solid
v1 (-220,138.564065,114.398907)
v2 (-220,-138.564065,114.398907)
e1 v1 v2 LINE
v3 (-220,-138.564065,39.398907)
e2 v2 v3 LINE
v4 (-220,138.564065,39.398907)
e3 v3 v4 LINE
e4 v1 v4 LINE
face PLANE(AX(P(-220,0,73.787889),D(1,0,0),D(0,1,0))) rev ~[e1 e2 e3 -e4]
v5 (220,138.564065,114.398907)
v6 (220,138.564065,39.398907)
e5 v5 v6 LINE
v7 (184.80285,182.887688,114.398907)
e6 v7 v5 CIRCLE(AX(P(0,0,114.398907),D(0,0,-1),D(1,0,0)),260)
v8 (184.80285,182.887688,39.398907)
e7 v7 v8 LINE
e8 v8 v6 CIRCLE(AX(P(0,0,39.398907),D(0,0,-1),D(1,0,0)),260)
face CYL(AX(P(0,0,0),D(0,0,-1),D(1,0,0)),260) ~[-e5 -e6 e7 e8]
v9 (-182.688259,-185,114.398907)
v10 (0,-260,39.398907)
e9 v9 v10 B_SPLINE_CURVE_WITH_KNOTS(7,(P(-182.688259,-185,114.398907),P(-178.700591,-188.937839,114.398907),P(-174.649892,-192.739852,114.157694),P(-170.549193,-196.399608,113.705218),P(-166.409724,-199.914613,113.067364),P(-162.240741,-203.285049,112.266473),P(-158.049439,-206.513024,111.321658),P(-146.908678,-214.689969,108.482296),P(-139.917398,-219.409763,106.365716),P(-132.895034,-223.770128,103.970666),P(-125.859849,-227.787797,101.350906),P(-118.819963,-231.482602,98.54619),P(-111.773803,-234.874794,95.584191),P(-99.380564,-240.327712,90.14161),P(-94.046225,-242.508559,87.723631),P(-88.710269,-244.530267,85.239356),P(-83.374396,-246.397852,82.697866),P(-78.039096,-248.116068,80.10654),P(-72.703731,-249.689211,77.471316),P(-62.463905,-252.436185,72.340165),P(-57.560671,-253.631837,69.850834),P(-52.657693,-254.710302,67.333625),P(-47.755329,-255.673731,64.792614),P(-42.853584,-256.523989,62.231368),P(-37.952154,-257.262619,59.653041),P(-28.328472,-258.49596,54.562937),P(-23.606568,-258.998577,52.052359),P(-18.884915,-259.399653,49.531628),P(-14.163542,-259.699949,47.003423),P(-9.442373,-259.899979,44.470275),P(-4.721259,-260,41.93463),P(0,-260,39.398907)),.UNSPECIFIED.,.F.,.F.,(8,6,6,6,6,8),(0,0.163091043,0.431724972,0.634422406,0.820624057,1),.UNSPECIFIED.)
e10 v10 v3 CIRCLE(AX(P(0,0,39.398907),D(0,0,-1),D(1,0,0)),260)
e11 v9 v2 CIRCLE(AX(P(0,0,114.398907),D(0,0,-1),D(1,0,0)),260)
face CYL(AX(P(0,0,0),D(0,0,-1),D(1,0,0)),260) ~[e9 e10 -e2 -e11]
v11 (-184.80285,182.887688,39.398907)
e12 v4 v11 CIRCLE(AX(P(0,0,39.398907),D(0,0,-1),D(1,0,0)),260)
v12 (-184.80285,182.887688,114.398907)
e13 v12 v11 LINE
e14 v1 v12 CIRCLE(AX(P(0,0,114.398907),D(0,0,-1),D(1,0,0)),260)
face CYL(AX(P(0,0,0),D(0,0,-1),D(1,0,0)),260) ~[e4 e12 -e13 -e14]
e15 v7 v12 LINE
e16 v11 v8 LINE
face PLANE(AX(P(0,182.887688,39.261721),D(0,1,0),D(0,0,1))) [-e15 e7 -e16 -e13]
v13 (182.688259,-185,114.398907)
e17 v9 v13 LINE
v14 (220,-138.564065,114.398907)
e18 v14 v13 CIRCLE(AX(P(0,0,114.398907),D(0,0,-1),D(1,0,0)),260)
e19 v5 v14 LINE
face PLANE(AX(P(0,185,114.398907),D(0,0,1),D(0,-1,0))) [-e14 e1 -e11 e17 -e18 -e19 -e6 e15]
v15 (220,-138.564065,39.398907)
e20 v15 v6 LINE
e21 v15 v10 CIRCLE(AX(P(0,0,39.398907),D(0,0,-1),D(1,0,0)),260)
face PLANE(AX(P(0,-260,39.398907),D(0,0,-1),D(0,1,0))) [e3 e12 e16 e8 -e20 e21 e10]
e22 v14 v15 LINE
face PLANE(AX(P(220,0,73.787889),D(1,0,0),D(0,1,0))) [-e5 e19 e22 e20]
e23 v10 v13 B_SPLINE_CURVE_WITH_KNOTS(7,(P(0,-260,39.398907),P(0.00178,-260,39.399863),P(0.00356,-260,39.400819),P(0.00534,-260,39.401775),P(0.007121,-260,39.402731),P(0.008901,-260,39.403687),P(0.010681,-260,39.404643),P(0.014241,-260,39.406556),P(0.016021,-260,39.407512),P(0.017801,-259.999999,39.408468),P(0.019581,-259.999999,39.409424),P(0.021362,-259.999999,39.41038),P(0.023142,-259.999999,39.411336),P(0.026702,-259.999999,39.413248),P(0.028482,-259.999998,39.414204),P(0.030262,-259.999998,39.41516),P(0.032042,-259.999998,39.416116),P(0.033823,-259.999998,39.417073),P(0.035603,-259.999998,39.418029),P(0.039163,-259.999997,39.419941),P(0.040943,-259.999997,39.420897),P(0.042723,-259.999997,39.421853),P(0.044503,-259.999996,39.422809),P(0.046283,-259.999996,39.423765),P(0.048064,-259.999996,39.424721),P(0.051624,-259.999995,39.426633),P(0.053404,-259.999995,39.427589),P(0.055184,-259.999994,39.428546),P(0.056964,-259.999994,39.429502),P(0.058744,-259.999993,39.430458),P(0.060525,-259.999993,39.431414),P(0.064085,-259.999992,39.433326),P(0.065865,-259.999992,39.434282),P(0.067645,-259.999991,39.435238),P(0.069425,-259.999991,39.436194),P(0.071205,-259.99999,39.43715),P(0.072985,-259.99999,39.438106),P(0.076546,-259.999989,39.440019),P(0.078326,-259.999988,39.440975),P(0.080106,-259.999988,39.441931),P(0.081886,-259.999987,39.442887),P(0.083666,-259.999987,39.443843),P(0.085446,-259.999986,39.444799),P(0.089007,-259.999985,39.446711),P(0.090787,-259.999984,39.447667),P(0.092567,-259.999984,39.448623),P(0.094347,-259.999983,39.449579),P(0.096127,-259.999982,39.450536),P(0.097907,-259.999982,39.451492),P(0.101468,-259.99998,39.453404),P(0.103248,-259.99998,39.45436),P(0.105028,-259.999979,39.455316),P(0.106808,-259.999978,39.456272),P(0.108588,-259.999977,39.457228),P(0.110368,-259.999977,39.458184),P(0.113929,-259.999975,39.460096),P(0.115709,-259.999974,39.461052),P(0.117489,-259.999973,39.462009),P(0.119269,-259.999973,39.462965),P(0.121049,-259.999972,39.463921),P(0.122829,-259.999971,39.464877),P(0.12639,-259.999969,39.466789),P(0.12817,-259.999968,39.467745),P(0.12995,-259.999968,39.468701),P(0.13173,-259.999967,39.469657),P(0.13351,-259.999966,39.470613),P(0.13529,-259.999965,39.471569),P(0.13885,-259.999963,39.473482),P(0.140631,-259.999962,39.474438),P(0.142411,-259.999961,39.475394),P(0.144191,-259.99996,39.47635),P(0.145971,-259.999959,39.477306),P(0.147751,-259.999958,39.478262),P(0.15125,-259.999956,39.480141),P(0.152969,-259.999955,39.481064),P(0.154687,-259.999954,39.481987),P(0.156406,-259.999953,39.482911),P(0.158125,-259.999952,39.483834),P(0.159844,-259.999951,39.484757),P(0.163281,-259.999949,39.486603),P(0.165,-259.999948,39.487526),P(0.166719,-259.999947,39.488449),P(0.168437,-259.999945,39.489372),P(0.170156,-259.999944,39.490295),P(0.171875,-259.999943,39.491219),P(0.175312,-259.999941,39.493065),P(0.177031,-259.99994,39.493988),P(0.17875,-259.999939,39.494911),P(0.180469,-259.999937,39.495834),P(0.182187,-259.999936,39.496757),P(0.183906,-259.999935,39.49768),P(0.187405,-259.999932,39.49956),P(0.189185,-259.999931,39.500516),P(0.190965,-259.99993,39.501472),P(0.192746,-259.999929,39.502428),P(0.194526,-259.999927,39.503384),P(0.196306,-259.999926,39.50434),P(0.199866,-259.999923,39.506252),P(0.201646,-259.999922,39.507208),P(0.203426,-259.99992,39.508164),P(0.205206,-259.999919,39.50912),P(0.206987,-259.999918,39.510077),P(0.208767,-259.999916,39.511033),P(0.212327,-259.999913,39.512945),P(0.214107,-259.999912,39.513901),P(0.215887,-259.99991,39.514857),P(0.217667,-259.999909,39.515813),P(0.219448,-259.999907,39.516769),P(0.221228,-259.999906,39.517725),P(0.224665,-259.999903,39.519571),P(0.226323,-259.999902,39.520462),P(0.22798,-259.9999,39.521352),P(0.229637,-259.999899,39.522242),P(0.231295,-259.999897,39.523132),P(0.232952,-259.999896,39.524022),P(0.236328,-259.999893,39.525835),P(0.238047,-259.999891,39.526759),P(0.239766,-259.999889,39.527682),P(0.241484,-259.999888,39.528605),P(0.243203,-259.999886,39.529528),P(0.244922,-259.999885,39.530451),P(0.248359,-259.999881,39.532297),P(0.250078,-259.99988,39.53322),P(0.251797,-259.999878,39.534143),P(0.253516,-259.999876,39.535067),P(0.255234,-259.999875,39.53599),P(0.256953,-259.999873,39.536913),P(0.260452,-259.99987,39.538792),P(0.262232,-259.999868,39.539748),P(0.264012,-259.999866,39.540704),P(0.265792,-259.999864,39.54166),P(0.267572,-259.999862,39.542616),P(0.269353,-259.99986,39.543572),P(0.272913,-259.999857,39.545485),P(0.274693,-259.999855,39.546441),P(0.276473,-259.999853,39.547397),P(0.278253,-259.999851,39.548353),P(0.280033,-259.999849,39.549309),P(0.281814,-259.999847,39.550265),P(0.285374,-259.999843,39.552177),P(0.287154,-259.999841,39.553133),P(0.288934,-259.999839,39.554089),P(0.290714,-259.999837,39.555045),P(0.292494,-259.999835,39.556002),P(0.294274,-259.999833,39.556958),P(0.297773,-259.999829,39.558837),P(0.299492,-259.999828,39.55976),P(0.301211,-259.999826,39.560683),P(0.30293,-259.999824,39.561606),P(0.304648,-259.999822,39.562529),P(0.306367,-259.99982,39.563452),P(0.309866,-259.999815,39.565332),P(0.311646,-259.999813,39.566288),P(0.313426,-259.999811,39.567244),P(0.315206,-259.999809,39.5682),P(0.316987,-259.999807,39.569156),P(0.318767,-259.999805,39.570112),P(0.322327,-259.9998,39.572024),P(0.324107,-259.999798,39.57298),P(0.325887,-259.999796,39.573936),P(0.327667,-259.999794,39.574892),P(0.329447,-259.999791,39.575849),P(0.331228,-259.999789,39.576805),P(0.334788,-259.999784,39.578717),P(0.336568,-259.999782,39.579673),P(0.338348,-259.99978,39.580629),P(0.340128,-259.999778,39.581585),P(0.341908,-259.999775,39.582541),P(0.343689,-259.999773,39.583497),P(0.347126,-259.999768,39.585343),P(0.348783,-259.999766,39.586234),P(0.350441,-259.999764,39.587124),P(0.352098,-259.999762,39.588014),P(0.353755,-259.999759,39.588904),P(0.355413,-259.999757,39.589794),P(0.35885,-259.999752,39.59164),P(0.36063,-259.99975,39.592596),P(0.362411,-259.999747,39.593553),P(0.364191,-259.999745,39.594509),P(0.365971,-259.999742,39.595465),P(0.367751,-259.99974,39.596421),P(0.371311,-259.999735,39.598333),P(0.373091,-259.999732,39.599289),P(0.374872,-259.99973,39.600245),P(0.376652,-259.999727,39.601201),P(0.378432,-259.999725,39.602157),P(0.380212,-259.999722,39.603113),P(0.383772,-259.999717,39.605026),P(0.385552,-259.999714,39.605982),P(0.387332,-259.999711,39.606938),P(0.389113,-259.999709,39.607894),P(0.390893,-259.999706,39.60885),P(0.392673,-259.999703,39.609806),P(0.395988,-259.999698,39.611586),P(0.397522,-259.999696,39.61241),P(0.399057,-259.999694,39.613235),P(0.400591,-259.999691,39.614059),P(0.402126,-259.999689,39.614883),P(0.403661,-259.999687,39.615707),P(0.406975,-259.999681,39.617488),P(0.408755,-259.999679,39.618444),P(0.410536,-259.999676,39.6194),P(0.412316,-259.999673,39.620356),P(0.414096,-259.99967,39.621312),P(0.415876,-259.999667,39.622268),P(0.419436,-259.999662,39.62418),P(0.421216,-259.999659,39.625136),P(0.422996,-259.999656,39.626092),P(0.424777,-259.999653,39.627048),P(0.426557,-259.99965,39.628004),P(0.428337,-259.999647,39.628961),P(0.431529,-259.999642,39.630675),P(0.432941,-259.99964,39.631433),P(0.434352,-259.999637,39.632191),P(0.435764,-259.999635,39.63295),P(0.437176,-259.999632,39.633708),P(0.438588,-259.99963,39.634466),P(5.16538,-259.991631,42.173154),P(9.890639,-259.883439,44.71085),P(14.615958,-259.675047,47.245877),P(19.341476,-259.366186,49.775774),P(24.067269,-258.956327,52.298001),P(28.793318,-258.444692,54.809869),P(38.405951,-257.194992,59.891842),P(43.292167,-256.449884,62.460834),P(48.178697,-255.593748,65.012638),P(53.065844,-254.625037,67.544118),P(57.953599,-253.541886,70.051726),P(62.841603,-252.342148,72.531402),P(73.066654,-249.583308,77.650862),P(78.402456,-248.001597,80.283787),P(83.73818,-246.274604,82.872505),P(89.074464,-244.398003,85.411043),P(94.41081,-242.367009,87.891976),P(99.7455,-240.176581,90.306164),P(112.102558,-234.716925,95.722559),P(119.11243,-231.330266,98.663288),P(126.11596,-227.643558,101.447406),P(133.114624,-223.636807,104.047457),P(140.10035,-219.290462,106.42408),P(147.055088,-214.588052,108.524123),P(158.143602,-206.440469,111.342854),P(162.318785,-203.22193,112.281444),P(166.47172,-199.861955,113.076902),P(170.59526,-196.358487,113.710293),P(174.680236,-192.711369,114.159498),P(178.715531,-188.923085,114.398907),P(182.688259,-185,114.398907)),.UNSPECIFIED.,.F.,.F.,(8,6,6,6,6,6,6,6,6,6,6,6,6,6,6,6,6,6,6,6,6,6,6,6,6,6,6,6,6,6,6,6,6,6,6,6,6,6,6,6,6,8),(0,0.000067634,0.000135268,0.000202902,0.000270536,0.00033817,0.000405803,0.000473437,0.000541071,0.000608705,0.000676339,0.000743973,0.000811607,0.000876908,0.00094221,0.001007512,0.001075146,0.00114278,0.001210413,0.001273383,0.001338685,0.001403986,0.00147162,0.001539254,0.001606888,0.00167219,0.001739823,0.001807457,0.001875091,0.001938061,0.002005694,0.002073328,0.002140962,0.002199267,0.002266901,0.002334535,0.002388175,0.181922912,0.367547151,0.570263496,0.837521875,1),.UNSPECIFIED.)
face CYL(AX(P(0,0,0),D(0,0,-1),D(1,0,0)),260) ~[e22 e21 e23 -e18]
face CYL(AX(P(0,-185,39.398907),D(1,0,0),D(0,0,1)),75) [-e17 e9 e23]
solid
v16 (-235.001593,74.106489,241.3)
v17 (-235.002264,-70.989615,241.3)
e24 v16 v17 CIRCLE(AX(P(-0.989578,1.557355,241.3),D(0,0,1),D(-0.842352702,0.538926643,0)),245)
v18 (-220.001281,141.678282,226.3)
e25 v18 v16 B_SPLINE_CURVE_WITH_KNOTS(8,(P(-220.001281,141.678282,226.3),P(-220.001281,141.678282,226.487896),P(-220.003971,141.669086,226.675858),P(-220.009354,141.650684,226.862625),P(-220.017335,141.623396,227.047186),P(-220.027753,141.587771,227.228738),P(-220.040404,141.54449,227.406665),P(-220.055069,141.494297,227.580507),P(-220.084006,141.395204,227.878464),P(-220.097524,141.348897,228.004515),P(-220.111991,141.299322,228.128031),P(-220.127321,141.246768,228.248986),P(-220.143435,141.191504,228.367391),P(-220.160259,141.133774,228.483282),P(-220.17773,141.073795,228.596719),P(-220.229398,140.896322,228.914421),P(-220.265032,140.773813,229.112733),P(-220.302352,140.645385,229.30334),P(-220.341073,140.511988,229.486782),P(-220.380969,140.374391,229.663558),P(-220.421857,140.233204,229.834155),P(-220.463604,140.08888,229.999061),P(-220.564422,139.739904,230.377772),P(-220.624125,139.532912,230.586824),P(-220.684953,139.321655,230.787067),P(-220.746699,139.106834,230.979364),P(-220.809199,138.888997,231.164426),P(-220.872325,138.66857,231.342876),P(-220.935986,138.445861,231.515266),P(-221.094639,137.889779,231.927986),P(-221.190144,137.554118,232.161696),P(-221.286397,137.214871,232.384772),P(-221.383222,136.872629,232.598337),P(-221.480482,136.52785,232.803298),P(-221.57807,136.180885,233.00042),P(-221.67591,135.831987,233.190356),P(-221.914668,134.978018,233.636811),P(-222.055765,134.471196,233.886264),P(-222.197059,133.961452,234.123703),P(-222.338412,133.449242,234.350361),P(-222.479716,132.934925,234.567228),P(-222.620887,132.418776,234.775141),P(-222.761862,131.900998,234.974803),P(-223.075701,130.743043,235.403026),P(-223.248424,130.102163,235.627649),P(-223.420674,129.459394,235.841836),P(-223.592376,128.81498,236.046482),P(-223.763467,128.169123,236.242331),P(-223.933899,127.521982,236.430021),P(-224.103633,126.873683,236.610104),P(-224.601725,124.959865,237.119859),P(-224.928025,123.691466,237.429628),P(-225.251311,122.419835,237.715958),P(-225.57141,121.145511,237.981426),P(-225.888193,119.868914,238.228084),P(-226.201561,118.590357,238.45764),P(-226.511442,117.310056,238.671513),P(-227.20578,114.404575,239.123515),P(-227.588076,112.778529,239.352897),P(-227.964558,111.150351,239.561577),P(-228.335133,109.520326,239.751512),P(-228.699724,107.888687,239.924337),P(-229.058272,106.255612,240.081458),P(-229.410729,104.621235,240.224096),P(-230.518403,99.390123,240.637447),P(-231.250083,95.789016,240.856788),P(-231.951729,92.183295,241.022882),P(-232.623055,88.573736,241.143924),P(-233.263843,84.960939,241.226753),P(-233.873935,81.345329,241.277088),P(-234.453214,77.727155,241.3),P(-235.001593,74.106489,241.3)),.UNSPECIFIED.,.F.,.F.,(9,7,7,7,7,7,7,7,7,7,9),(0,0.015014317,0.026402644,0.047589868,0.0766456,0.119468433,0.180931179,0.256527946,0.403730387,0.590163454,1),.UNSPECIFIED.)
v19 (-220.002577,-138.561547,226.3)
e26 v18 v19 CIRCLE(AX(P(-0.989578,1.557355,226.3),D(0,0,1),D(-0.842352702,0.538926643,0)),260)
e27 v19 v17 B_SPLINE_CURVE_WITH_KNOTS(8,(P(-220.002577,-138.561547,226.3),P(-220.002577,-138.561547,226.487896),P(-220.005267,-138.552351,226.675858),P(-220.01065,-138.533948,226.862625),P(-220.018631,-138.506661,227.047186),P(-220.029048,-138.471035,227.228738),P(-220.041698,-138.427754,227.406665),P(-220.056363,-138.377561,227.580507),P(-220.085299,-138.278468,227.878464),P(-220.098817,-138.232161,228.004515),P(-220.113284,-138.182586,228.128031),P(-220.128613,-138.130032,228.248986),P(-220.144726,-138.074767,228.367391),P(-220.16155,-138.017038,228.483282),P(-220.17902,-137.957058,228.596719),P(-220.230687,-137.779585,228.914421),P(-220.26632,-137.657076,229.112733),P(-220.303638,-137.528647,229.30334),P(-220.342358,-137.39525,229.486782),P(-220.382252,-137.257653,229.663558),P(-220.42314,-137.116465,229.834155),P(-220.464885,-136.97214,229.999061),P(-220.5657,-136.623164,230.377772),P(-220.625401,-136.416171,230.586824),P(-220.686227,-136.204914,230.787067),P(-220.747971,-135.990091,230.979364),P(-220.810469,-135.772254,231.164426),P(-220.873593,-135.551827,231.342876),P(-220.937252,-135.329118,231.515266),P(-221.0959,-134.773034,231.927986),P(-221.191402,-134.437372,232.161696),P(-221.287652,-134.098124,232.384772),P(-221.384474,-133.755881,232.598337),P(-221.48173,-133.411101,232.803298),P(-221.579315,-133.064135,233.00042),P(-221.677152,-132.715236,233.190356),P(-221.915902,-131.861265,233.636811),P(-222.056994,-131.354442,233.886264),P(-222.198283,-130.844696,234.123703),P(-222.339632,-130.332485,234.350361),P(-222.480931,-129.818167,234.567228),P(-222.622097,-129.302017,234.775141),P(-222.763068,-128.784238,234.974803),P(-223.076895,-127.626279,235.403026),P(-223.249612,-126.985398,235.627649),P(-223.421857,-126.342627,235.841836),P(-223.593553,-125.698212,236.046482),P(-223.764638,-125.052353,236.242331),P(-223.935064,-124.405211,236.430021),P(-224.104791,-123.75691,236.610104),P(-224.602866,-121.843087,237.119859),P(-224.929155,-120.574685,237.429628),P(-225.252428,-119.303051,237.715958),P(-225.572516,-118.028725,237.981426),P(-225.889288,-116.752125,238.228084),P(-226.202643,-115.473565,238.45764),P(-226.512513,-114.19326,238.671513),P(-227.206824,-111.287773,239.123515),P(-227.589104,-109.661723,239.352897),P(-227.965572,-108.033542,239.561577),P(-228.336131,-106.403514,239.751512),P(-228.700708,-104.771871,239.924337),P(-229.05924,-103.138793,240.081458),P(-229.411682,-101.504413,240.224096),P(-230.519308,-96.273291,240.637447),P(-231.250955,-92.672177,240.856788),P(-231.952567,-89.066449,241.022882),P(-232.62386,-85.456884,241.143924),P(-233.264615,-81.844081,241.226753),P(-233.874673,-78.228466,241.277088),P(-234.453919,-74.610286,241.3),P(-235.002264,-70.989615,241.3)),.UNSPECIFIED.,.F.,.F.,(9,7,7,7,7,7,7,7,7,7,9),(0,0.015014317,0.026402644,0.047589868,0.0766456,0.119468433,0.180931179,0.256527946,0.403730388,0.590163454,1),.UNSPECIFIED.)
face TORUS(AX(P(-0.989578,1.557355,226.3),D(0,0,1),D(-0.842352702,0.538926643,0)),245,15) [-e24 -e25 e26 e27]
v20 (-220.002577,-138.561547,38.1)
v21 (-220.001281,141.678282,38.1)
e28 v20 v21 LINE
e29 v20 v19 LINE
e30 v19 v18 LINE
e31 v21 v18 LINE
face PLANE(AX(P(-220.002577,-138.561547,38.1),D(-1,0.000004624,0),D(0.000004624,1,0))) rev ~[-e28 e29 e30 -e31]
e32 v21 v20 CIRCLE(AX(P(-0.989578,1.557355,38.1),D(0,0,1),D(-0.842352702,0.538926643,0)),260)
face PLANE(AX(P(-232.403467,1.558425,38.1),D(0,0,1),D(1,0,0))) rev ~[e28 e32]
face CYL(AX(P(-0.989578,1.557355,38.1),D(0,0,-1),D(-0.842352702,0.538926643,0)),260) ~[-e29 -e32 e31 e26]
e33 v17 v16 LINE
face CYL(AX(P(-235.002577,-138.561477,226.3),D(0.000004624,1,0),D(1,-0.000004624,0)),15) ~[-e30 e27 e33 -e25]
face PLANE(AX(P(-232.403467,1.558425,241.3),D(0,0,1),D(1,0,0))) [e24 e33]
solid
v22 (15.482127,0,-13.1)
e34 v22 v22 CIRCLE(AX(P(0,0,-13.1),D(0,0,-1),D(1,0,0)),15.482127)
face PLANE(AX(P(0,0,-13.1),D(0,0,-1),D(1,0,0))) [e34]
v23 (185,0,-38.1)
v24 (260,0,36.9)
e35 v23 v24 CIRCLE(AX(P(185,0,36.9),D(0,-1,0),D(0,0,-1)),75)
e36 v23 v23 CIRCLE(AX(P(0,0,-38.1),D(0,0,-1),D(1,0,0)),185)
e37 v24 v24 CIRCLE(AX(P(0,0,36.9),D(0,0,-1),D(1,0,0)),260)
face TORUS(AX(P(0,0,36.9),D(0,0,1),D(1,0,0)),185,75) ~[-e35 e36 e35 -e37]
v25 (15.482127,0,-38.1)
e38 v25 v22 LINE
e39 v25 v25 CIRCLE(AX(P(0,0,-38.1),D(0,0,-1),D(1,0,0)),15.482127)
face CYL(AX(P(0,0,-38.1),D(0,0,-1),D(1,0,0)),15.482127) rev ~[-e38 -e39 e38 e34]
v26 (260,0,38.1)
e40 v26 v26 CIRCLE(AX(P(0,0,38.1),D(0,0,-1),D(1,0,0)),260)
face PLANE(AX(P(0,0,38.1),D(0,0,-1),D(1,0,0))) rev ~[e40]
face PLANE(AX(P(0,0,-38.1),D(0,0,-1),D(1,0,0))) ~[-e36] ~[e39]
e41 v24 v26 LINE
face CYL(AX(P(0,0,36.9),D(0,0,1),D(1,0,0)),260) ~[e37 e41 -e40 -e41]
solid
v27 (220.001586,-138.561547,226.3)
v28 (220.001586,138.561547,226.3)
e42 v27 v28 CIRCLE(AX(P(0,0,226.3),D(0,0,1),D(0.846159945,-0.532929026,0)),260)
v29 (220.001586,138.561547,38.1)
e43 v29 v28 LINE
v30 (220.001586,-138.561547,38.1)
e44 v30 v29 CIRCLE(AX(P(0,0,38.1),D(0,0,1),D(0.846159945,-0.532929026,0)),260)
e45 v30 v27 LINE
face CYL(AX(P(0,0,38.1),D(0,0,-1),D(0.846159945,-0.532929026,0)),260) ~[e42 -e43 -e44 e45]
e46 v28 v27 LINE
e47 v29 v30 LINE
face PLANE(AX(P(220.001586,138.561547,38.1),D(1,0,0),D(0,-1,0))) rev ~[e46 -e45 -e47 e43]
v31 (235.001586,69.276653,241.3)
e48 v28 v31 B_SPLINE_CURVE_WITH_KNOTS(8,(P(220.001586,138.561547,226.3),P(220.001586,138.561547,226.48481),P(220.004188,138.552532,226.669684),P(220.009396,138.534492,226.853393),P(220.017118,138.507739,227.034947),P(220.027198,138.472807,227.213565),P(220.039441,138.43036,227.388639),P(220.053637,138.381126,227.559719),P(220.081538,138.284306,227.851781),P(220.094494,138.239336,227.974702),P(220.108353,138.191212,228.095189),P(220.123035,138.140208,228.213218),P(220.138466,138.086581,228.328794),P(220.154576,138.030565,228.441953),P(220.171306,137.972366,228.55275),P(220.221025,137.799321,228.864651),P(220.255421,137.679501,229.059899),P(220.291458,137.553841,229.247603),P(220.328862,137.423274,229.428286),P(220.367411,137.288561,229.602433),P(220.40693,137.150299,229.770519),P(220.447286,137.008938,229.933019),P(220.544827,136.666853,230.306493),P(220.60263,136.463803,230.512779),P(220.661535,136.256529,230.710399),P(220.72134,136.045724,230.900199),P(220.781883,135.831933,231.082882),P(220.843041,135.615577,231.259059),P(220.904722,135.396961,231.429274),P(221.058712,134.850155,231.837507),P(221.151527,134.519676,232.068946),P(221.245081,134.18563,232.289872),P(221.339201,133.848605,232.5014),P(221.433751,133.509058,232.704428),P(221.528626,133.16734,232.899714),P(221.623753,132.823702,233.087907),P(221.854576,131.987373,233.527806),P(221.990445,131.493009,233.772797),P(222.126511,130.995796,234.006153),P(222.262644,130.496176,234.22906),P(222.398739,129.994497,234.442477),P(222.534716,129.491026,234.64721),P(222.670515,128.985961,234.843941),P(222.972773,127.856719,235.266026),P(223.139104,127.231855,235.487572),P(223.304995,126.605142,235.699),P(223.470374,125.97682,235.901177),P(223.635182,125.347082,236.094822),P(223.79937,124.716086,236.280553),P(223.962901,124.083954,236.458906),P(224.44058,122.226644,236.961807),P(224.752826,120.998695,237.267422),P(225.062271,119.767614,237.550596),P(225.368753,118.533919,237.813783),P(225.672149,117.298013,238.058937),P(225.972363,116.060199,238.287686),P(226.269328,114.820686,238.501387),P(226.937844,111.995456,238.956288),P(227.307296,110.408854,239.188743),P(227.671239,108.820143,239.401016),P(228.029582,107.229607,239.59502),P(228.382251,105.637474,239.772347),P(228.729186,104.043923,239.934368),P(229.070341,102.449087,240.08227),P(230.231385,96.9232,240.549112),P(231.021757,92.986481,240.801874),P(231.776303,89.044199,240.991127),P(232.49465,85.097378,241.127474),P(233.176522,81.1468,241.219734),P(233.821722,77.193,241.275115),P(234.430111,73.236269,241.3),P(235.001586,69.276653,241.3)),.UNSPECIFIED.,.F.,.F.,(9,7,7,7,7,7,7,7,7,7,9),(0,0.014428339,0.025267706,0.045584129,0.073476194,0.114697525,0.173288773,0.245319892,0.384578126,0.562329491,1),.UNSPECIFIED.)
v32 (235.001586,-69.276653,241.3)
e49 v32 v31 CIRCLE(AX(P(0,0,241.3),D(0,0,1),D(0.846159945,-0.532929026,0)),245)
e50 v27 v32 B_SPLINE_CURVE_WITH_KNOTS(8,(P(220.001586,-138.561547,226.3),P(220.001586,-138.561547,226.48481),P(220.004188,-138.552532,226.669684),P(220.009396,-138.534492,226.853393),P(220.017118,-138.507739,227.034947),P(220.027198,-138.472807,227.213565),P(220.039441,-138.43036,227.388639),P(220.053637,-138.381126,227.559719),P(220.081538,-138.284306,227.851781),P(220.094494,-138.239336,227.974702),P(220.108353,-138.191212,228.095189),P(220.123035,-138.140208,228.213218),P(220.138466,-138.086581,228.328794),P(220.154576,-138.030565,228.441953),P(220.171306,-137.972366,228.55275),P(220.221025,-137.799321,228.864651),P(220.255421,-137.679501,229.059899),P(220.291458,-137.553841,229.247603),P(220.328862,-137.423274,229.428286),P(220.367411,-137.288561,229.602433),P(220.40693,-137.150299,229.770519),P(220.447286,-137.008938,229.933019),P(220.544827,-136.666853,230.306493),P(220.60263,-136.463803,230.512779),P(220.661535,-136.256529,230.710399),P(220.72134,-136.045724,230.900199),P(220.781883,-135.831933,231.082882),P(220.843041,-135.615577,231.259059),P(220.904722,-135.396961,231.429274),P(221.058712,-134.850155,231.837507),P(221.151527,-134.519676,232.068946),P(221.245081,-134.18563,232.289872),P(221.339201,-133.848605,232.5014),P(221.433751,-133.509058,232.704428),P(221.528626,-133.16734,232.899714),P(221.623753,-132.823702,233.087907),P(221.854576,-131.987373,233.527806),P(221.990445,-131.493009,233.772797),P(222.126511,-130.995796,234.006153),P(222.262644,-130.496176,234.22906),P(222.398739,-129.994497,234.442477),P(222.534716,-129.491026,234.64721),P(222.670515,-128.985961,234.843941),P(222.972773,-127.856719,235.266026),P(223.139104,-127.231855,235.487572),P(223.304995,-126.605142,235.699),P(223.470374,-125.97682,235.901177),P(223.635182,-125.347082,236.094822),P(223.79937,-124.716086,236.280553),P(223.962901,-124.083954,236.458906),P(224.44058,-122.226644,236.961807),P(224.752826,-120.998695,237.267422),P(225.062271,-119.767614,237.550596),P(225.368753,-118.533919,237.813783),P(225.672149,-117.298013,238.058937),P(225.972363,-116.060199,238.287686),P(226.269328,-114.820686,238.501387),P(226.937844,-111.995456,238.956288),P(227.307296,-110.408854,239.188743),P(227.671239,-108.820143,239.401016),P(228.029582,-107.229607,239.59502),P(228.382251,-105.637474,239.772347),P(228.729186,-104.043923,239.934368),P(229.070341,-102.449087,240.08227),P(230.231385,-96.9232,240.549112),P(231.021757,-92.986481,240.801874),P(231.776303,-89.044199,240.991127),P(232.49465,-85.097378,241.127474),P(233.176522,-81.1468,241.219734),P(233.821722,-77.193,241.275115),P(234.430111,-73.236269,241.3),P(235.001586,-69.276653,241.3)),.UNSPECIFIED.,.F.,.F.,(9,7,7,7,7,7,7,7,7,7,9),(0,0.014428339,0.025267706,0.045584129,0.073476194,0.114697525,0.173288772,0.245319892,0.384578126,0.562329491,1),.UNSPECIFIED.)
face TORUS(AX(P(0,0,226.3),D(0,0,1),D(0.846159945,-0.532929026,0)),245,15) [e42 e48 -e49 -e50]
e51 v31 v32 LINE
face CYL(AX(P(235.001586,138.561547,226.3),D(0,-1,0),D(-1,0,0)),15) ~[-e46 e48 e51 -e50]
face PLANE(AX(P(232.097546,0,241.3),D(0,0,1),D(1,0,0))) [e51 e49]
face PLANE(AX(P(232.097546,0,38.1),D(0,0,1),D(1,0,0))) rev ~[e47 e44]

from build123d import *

# Parameters (mm, degrees)
F3_DEPTH  = 220
F4_R      = 500
F4_R_2    = 260
F5_DEPTH  = 500
F7_DEPTH  = 203.2
F8_R      = 15
F9_R      = 15
F10_R     = 15.4821269872
F11_DEPTH = 25
F12_DEPTH = 25
F13_W     = 88.8012498617
F13_H     = 75.206540525
F14_DEPTH = 450


with BuildPart() as f1:
    # F0 (on Front) → F1 (revolve)
    with BuildSketch(Plane.XZ):
        with BuildLine():
            Line((260, 36.9), (260, 38.1))
            Line((260, 38.1), (0, 38.1))
            Line((0, 38.1), (0, -38.1))
            Line((0, -38.1), (185, -38.1))
            ThreePointArc((185, -38.1), (238.033008589, -16.133008589), (260, 36.9))
        make_face()
    revolve(axis=Axis((0, 0, 0), (0, 0, -1)))

    # F10 (on face) → F11 (cut)
    with BuildSketch(Plane(origin=(0, 0, -38.1), x_dir=(1, 0, 0), z_dir=(0, 0, -1))):
        Circle(F10_R)
    extrude(amount=-F11_DEPTH, mode=Mode.SUBTRACT)

    # F10 (on face) → F12 (cut)
    with BuildSketch(Plane(origin=(0, 0, -38.1), x_dir=(1, 0, 0), z_dir=(0, 0, -1))):
        Circle(F10_R)
    extrude(amount=-F12_DEPTH, mode=Mode.SUBTRACT)


with BuildPart() as f3:
    # F2 (on Right) → F3 (new body, symmetric)
    with BuildSketch(Plane.YZ):
        with BuildLine():
            Line((185, 114.3989069283), (0, 114.3989069283))
            Line((0, 114.3989069283), (-185, 114.3989069283))
            ThreePointArc((-185, 114.3989069283), (-238.033008589, 92.4319155173), (-260, 39.3989069283))
            Line((-260, 39.3989069283), (260, 39.3989069283))
            ThreePointArc((260, 39.3989069283), (238.033008589, 92.4319155173), (185, 114.3989069283))
        make_face()
    extrude(amount=F3_DEPTH, both=True)

    # F4 (on Top) → F5 (cut)
    with BuildSketch(Plane.XY):
        Circle(F4_R)
        Circle(F4_R_2, mode=Mode.SUBTRACT)
    extrude(amount=F5_DEPTH, mode=Mode.SUBTRACT)

    # F13 (on Right) → F14 (cut, symmetric)
    with BuildSketch(Plane.YZ):
        with Locations((227.28831321, 76.8649913371)):
            Rectangle(F13_W, F13_H)
    extrude(amount=F14_DEPTH, both=True, mode=Mode.SUBTRACT)


with BuildPart() as f7:
    # F6 (on face) → F7 (new body)
    with BuildSketch(Plane.XY.offset(38.1)):
        with BuildLine():
            Line((220.0015857845, 138.5615468025), (220.0015857845, -138.5615468025))
            ThreePointArc((220.0015857845, -138.5615468025), (260, 0), (220.0015857845, 138.5615468025))
        make_face()
    extrude(amount=F7_DEPTH)

    # F8
    f8_edges = [f7.edges().sort_by_distance(p)[0] for p in [
        (220.001586, 0, 241.3),
        (260, 0, 241.3),
    ]]
    fillet(f8_edges, radius=F8_R)


with BuildPart() as f7b:
    # F6 (on face) → F7, piece 2 (new body)
    with BuildSketch(Plane.XY.offset(38.1)):
        with BuildLine():
            Line((-220.0025767088, -138.5615468025), (-220.0012808488, 141.6782819457))
            ThreePointArc((-220.0012808488, 141.6782819457), (-260.9895784522, 1.558557103), (-220.0025767088, -138.5615468025))
        make_face()
    extrude(amount=F7_DEPTH)

    # F9
    f9_edges = [f7b.edges().sort_by_distance(p)[0] for p in [
        (-260.989578, 1.558557, 241.3),
        (-220.001929, 1.558368, 241.3),
    ]]
    fillet(f9_edges, radius=F9_R)


solid = Compound([f1.part, f3.part, f7.part, f7b.part])
